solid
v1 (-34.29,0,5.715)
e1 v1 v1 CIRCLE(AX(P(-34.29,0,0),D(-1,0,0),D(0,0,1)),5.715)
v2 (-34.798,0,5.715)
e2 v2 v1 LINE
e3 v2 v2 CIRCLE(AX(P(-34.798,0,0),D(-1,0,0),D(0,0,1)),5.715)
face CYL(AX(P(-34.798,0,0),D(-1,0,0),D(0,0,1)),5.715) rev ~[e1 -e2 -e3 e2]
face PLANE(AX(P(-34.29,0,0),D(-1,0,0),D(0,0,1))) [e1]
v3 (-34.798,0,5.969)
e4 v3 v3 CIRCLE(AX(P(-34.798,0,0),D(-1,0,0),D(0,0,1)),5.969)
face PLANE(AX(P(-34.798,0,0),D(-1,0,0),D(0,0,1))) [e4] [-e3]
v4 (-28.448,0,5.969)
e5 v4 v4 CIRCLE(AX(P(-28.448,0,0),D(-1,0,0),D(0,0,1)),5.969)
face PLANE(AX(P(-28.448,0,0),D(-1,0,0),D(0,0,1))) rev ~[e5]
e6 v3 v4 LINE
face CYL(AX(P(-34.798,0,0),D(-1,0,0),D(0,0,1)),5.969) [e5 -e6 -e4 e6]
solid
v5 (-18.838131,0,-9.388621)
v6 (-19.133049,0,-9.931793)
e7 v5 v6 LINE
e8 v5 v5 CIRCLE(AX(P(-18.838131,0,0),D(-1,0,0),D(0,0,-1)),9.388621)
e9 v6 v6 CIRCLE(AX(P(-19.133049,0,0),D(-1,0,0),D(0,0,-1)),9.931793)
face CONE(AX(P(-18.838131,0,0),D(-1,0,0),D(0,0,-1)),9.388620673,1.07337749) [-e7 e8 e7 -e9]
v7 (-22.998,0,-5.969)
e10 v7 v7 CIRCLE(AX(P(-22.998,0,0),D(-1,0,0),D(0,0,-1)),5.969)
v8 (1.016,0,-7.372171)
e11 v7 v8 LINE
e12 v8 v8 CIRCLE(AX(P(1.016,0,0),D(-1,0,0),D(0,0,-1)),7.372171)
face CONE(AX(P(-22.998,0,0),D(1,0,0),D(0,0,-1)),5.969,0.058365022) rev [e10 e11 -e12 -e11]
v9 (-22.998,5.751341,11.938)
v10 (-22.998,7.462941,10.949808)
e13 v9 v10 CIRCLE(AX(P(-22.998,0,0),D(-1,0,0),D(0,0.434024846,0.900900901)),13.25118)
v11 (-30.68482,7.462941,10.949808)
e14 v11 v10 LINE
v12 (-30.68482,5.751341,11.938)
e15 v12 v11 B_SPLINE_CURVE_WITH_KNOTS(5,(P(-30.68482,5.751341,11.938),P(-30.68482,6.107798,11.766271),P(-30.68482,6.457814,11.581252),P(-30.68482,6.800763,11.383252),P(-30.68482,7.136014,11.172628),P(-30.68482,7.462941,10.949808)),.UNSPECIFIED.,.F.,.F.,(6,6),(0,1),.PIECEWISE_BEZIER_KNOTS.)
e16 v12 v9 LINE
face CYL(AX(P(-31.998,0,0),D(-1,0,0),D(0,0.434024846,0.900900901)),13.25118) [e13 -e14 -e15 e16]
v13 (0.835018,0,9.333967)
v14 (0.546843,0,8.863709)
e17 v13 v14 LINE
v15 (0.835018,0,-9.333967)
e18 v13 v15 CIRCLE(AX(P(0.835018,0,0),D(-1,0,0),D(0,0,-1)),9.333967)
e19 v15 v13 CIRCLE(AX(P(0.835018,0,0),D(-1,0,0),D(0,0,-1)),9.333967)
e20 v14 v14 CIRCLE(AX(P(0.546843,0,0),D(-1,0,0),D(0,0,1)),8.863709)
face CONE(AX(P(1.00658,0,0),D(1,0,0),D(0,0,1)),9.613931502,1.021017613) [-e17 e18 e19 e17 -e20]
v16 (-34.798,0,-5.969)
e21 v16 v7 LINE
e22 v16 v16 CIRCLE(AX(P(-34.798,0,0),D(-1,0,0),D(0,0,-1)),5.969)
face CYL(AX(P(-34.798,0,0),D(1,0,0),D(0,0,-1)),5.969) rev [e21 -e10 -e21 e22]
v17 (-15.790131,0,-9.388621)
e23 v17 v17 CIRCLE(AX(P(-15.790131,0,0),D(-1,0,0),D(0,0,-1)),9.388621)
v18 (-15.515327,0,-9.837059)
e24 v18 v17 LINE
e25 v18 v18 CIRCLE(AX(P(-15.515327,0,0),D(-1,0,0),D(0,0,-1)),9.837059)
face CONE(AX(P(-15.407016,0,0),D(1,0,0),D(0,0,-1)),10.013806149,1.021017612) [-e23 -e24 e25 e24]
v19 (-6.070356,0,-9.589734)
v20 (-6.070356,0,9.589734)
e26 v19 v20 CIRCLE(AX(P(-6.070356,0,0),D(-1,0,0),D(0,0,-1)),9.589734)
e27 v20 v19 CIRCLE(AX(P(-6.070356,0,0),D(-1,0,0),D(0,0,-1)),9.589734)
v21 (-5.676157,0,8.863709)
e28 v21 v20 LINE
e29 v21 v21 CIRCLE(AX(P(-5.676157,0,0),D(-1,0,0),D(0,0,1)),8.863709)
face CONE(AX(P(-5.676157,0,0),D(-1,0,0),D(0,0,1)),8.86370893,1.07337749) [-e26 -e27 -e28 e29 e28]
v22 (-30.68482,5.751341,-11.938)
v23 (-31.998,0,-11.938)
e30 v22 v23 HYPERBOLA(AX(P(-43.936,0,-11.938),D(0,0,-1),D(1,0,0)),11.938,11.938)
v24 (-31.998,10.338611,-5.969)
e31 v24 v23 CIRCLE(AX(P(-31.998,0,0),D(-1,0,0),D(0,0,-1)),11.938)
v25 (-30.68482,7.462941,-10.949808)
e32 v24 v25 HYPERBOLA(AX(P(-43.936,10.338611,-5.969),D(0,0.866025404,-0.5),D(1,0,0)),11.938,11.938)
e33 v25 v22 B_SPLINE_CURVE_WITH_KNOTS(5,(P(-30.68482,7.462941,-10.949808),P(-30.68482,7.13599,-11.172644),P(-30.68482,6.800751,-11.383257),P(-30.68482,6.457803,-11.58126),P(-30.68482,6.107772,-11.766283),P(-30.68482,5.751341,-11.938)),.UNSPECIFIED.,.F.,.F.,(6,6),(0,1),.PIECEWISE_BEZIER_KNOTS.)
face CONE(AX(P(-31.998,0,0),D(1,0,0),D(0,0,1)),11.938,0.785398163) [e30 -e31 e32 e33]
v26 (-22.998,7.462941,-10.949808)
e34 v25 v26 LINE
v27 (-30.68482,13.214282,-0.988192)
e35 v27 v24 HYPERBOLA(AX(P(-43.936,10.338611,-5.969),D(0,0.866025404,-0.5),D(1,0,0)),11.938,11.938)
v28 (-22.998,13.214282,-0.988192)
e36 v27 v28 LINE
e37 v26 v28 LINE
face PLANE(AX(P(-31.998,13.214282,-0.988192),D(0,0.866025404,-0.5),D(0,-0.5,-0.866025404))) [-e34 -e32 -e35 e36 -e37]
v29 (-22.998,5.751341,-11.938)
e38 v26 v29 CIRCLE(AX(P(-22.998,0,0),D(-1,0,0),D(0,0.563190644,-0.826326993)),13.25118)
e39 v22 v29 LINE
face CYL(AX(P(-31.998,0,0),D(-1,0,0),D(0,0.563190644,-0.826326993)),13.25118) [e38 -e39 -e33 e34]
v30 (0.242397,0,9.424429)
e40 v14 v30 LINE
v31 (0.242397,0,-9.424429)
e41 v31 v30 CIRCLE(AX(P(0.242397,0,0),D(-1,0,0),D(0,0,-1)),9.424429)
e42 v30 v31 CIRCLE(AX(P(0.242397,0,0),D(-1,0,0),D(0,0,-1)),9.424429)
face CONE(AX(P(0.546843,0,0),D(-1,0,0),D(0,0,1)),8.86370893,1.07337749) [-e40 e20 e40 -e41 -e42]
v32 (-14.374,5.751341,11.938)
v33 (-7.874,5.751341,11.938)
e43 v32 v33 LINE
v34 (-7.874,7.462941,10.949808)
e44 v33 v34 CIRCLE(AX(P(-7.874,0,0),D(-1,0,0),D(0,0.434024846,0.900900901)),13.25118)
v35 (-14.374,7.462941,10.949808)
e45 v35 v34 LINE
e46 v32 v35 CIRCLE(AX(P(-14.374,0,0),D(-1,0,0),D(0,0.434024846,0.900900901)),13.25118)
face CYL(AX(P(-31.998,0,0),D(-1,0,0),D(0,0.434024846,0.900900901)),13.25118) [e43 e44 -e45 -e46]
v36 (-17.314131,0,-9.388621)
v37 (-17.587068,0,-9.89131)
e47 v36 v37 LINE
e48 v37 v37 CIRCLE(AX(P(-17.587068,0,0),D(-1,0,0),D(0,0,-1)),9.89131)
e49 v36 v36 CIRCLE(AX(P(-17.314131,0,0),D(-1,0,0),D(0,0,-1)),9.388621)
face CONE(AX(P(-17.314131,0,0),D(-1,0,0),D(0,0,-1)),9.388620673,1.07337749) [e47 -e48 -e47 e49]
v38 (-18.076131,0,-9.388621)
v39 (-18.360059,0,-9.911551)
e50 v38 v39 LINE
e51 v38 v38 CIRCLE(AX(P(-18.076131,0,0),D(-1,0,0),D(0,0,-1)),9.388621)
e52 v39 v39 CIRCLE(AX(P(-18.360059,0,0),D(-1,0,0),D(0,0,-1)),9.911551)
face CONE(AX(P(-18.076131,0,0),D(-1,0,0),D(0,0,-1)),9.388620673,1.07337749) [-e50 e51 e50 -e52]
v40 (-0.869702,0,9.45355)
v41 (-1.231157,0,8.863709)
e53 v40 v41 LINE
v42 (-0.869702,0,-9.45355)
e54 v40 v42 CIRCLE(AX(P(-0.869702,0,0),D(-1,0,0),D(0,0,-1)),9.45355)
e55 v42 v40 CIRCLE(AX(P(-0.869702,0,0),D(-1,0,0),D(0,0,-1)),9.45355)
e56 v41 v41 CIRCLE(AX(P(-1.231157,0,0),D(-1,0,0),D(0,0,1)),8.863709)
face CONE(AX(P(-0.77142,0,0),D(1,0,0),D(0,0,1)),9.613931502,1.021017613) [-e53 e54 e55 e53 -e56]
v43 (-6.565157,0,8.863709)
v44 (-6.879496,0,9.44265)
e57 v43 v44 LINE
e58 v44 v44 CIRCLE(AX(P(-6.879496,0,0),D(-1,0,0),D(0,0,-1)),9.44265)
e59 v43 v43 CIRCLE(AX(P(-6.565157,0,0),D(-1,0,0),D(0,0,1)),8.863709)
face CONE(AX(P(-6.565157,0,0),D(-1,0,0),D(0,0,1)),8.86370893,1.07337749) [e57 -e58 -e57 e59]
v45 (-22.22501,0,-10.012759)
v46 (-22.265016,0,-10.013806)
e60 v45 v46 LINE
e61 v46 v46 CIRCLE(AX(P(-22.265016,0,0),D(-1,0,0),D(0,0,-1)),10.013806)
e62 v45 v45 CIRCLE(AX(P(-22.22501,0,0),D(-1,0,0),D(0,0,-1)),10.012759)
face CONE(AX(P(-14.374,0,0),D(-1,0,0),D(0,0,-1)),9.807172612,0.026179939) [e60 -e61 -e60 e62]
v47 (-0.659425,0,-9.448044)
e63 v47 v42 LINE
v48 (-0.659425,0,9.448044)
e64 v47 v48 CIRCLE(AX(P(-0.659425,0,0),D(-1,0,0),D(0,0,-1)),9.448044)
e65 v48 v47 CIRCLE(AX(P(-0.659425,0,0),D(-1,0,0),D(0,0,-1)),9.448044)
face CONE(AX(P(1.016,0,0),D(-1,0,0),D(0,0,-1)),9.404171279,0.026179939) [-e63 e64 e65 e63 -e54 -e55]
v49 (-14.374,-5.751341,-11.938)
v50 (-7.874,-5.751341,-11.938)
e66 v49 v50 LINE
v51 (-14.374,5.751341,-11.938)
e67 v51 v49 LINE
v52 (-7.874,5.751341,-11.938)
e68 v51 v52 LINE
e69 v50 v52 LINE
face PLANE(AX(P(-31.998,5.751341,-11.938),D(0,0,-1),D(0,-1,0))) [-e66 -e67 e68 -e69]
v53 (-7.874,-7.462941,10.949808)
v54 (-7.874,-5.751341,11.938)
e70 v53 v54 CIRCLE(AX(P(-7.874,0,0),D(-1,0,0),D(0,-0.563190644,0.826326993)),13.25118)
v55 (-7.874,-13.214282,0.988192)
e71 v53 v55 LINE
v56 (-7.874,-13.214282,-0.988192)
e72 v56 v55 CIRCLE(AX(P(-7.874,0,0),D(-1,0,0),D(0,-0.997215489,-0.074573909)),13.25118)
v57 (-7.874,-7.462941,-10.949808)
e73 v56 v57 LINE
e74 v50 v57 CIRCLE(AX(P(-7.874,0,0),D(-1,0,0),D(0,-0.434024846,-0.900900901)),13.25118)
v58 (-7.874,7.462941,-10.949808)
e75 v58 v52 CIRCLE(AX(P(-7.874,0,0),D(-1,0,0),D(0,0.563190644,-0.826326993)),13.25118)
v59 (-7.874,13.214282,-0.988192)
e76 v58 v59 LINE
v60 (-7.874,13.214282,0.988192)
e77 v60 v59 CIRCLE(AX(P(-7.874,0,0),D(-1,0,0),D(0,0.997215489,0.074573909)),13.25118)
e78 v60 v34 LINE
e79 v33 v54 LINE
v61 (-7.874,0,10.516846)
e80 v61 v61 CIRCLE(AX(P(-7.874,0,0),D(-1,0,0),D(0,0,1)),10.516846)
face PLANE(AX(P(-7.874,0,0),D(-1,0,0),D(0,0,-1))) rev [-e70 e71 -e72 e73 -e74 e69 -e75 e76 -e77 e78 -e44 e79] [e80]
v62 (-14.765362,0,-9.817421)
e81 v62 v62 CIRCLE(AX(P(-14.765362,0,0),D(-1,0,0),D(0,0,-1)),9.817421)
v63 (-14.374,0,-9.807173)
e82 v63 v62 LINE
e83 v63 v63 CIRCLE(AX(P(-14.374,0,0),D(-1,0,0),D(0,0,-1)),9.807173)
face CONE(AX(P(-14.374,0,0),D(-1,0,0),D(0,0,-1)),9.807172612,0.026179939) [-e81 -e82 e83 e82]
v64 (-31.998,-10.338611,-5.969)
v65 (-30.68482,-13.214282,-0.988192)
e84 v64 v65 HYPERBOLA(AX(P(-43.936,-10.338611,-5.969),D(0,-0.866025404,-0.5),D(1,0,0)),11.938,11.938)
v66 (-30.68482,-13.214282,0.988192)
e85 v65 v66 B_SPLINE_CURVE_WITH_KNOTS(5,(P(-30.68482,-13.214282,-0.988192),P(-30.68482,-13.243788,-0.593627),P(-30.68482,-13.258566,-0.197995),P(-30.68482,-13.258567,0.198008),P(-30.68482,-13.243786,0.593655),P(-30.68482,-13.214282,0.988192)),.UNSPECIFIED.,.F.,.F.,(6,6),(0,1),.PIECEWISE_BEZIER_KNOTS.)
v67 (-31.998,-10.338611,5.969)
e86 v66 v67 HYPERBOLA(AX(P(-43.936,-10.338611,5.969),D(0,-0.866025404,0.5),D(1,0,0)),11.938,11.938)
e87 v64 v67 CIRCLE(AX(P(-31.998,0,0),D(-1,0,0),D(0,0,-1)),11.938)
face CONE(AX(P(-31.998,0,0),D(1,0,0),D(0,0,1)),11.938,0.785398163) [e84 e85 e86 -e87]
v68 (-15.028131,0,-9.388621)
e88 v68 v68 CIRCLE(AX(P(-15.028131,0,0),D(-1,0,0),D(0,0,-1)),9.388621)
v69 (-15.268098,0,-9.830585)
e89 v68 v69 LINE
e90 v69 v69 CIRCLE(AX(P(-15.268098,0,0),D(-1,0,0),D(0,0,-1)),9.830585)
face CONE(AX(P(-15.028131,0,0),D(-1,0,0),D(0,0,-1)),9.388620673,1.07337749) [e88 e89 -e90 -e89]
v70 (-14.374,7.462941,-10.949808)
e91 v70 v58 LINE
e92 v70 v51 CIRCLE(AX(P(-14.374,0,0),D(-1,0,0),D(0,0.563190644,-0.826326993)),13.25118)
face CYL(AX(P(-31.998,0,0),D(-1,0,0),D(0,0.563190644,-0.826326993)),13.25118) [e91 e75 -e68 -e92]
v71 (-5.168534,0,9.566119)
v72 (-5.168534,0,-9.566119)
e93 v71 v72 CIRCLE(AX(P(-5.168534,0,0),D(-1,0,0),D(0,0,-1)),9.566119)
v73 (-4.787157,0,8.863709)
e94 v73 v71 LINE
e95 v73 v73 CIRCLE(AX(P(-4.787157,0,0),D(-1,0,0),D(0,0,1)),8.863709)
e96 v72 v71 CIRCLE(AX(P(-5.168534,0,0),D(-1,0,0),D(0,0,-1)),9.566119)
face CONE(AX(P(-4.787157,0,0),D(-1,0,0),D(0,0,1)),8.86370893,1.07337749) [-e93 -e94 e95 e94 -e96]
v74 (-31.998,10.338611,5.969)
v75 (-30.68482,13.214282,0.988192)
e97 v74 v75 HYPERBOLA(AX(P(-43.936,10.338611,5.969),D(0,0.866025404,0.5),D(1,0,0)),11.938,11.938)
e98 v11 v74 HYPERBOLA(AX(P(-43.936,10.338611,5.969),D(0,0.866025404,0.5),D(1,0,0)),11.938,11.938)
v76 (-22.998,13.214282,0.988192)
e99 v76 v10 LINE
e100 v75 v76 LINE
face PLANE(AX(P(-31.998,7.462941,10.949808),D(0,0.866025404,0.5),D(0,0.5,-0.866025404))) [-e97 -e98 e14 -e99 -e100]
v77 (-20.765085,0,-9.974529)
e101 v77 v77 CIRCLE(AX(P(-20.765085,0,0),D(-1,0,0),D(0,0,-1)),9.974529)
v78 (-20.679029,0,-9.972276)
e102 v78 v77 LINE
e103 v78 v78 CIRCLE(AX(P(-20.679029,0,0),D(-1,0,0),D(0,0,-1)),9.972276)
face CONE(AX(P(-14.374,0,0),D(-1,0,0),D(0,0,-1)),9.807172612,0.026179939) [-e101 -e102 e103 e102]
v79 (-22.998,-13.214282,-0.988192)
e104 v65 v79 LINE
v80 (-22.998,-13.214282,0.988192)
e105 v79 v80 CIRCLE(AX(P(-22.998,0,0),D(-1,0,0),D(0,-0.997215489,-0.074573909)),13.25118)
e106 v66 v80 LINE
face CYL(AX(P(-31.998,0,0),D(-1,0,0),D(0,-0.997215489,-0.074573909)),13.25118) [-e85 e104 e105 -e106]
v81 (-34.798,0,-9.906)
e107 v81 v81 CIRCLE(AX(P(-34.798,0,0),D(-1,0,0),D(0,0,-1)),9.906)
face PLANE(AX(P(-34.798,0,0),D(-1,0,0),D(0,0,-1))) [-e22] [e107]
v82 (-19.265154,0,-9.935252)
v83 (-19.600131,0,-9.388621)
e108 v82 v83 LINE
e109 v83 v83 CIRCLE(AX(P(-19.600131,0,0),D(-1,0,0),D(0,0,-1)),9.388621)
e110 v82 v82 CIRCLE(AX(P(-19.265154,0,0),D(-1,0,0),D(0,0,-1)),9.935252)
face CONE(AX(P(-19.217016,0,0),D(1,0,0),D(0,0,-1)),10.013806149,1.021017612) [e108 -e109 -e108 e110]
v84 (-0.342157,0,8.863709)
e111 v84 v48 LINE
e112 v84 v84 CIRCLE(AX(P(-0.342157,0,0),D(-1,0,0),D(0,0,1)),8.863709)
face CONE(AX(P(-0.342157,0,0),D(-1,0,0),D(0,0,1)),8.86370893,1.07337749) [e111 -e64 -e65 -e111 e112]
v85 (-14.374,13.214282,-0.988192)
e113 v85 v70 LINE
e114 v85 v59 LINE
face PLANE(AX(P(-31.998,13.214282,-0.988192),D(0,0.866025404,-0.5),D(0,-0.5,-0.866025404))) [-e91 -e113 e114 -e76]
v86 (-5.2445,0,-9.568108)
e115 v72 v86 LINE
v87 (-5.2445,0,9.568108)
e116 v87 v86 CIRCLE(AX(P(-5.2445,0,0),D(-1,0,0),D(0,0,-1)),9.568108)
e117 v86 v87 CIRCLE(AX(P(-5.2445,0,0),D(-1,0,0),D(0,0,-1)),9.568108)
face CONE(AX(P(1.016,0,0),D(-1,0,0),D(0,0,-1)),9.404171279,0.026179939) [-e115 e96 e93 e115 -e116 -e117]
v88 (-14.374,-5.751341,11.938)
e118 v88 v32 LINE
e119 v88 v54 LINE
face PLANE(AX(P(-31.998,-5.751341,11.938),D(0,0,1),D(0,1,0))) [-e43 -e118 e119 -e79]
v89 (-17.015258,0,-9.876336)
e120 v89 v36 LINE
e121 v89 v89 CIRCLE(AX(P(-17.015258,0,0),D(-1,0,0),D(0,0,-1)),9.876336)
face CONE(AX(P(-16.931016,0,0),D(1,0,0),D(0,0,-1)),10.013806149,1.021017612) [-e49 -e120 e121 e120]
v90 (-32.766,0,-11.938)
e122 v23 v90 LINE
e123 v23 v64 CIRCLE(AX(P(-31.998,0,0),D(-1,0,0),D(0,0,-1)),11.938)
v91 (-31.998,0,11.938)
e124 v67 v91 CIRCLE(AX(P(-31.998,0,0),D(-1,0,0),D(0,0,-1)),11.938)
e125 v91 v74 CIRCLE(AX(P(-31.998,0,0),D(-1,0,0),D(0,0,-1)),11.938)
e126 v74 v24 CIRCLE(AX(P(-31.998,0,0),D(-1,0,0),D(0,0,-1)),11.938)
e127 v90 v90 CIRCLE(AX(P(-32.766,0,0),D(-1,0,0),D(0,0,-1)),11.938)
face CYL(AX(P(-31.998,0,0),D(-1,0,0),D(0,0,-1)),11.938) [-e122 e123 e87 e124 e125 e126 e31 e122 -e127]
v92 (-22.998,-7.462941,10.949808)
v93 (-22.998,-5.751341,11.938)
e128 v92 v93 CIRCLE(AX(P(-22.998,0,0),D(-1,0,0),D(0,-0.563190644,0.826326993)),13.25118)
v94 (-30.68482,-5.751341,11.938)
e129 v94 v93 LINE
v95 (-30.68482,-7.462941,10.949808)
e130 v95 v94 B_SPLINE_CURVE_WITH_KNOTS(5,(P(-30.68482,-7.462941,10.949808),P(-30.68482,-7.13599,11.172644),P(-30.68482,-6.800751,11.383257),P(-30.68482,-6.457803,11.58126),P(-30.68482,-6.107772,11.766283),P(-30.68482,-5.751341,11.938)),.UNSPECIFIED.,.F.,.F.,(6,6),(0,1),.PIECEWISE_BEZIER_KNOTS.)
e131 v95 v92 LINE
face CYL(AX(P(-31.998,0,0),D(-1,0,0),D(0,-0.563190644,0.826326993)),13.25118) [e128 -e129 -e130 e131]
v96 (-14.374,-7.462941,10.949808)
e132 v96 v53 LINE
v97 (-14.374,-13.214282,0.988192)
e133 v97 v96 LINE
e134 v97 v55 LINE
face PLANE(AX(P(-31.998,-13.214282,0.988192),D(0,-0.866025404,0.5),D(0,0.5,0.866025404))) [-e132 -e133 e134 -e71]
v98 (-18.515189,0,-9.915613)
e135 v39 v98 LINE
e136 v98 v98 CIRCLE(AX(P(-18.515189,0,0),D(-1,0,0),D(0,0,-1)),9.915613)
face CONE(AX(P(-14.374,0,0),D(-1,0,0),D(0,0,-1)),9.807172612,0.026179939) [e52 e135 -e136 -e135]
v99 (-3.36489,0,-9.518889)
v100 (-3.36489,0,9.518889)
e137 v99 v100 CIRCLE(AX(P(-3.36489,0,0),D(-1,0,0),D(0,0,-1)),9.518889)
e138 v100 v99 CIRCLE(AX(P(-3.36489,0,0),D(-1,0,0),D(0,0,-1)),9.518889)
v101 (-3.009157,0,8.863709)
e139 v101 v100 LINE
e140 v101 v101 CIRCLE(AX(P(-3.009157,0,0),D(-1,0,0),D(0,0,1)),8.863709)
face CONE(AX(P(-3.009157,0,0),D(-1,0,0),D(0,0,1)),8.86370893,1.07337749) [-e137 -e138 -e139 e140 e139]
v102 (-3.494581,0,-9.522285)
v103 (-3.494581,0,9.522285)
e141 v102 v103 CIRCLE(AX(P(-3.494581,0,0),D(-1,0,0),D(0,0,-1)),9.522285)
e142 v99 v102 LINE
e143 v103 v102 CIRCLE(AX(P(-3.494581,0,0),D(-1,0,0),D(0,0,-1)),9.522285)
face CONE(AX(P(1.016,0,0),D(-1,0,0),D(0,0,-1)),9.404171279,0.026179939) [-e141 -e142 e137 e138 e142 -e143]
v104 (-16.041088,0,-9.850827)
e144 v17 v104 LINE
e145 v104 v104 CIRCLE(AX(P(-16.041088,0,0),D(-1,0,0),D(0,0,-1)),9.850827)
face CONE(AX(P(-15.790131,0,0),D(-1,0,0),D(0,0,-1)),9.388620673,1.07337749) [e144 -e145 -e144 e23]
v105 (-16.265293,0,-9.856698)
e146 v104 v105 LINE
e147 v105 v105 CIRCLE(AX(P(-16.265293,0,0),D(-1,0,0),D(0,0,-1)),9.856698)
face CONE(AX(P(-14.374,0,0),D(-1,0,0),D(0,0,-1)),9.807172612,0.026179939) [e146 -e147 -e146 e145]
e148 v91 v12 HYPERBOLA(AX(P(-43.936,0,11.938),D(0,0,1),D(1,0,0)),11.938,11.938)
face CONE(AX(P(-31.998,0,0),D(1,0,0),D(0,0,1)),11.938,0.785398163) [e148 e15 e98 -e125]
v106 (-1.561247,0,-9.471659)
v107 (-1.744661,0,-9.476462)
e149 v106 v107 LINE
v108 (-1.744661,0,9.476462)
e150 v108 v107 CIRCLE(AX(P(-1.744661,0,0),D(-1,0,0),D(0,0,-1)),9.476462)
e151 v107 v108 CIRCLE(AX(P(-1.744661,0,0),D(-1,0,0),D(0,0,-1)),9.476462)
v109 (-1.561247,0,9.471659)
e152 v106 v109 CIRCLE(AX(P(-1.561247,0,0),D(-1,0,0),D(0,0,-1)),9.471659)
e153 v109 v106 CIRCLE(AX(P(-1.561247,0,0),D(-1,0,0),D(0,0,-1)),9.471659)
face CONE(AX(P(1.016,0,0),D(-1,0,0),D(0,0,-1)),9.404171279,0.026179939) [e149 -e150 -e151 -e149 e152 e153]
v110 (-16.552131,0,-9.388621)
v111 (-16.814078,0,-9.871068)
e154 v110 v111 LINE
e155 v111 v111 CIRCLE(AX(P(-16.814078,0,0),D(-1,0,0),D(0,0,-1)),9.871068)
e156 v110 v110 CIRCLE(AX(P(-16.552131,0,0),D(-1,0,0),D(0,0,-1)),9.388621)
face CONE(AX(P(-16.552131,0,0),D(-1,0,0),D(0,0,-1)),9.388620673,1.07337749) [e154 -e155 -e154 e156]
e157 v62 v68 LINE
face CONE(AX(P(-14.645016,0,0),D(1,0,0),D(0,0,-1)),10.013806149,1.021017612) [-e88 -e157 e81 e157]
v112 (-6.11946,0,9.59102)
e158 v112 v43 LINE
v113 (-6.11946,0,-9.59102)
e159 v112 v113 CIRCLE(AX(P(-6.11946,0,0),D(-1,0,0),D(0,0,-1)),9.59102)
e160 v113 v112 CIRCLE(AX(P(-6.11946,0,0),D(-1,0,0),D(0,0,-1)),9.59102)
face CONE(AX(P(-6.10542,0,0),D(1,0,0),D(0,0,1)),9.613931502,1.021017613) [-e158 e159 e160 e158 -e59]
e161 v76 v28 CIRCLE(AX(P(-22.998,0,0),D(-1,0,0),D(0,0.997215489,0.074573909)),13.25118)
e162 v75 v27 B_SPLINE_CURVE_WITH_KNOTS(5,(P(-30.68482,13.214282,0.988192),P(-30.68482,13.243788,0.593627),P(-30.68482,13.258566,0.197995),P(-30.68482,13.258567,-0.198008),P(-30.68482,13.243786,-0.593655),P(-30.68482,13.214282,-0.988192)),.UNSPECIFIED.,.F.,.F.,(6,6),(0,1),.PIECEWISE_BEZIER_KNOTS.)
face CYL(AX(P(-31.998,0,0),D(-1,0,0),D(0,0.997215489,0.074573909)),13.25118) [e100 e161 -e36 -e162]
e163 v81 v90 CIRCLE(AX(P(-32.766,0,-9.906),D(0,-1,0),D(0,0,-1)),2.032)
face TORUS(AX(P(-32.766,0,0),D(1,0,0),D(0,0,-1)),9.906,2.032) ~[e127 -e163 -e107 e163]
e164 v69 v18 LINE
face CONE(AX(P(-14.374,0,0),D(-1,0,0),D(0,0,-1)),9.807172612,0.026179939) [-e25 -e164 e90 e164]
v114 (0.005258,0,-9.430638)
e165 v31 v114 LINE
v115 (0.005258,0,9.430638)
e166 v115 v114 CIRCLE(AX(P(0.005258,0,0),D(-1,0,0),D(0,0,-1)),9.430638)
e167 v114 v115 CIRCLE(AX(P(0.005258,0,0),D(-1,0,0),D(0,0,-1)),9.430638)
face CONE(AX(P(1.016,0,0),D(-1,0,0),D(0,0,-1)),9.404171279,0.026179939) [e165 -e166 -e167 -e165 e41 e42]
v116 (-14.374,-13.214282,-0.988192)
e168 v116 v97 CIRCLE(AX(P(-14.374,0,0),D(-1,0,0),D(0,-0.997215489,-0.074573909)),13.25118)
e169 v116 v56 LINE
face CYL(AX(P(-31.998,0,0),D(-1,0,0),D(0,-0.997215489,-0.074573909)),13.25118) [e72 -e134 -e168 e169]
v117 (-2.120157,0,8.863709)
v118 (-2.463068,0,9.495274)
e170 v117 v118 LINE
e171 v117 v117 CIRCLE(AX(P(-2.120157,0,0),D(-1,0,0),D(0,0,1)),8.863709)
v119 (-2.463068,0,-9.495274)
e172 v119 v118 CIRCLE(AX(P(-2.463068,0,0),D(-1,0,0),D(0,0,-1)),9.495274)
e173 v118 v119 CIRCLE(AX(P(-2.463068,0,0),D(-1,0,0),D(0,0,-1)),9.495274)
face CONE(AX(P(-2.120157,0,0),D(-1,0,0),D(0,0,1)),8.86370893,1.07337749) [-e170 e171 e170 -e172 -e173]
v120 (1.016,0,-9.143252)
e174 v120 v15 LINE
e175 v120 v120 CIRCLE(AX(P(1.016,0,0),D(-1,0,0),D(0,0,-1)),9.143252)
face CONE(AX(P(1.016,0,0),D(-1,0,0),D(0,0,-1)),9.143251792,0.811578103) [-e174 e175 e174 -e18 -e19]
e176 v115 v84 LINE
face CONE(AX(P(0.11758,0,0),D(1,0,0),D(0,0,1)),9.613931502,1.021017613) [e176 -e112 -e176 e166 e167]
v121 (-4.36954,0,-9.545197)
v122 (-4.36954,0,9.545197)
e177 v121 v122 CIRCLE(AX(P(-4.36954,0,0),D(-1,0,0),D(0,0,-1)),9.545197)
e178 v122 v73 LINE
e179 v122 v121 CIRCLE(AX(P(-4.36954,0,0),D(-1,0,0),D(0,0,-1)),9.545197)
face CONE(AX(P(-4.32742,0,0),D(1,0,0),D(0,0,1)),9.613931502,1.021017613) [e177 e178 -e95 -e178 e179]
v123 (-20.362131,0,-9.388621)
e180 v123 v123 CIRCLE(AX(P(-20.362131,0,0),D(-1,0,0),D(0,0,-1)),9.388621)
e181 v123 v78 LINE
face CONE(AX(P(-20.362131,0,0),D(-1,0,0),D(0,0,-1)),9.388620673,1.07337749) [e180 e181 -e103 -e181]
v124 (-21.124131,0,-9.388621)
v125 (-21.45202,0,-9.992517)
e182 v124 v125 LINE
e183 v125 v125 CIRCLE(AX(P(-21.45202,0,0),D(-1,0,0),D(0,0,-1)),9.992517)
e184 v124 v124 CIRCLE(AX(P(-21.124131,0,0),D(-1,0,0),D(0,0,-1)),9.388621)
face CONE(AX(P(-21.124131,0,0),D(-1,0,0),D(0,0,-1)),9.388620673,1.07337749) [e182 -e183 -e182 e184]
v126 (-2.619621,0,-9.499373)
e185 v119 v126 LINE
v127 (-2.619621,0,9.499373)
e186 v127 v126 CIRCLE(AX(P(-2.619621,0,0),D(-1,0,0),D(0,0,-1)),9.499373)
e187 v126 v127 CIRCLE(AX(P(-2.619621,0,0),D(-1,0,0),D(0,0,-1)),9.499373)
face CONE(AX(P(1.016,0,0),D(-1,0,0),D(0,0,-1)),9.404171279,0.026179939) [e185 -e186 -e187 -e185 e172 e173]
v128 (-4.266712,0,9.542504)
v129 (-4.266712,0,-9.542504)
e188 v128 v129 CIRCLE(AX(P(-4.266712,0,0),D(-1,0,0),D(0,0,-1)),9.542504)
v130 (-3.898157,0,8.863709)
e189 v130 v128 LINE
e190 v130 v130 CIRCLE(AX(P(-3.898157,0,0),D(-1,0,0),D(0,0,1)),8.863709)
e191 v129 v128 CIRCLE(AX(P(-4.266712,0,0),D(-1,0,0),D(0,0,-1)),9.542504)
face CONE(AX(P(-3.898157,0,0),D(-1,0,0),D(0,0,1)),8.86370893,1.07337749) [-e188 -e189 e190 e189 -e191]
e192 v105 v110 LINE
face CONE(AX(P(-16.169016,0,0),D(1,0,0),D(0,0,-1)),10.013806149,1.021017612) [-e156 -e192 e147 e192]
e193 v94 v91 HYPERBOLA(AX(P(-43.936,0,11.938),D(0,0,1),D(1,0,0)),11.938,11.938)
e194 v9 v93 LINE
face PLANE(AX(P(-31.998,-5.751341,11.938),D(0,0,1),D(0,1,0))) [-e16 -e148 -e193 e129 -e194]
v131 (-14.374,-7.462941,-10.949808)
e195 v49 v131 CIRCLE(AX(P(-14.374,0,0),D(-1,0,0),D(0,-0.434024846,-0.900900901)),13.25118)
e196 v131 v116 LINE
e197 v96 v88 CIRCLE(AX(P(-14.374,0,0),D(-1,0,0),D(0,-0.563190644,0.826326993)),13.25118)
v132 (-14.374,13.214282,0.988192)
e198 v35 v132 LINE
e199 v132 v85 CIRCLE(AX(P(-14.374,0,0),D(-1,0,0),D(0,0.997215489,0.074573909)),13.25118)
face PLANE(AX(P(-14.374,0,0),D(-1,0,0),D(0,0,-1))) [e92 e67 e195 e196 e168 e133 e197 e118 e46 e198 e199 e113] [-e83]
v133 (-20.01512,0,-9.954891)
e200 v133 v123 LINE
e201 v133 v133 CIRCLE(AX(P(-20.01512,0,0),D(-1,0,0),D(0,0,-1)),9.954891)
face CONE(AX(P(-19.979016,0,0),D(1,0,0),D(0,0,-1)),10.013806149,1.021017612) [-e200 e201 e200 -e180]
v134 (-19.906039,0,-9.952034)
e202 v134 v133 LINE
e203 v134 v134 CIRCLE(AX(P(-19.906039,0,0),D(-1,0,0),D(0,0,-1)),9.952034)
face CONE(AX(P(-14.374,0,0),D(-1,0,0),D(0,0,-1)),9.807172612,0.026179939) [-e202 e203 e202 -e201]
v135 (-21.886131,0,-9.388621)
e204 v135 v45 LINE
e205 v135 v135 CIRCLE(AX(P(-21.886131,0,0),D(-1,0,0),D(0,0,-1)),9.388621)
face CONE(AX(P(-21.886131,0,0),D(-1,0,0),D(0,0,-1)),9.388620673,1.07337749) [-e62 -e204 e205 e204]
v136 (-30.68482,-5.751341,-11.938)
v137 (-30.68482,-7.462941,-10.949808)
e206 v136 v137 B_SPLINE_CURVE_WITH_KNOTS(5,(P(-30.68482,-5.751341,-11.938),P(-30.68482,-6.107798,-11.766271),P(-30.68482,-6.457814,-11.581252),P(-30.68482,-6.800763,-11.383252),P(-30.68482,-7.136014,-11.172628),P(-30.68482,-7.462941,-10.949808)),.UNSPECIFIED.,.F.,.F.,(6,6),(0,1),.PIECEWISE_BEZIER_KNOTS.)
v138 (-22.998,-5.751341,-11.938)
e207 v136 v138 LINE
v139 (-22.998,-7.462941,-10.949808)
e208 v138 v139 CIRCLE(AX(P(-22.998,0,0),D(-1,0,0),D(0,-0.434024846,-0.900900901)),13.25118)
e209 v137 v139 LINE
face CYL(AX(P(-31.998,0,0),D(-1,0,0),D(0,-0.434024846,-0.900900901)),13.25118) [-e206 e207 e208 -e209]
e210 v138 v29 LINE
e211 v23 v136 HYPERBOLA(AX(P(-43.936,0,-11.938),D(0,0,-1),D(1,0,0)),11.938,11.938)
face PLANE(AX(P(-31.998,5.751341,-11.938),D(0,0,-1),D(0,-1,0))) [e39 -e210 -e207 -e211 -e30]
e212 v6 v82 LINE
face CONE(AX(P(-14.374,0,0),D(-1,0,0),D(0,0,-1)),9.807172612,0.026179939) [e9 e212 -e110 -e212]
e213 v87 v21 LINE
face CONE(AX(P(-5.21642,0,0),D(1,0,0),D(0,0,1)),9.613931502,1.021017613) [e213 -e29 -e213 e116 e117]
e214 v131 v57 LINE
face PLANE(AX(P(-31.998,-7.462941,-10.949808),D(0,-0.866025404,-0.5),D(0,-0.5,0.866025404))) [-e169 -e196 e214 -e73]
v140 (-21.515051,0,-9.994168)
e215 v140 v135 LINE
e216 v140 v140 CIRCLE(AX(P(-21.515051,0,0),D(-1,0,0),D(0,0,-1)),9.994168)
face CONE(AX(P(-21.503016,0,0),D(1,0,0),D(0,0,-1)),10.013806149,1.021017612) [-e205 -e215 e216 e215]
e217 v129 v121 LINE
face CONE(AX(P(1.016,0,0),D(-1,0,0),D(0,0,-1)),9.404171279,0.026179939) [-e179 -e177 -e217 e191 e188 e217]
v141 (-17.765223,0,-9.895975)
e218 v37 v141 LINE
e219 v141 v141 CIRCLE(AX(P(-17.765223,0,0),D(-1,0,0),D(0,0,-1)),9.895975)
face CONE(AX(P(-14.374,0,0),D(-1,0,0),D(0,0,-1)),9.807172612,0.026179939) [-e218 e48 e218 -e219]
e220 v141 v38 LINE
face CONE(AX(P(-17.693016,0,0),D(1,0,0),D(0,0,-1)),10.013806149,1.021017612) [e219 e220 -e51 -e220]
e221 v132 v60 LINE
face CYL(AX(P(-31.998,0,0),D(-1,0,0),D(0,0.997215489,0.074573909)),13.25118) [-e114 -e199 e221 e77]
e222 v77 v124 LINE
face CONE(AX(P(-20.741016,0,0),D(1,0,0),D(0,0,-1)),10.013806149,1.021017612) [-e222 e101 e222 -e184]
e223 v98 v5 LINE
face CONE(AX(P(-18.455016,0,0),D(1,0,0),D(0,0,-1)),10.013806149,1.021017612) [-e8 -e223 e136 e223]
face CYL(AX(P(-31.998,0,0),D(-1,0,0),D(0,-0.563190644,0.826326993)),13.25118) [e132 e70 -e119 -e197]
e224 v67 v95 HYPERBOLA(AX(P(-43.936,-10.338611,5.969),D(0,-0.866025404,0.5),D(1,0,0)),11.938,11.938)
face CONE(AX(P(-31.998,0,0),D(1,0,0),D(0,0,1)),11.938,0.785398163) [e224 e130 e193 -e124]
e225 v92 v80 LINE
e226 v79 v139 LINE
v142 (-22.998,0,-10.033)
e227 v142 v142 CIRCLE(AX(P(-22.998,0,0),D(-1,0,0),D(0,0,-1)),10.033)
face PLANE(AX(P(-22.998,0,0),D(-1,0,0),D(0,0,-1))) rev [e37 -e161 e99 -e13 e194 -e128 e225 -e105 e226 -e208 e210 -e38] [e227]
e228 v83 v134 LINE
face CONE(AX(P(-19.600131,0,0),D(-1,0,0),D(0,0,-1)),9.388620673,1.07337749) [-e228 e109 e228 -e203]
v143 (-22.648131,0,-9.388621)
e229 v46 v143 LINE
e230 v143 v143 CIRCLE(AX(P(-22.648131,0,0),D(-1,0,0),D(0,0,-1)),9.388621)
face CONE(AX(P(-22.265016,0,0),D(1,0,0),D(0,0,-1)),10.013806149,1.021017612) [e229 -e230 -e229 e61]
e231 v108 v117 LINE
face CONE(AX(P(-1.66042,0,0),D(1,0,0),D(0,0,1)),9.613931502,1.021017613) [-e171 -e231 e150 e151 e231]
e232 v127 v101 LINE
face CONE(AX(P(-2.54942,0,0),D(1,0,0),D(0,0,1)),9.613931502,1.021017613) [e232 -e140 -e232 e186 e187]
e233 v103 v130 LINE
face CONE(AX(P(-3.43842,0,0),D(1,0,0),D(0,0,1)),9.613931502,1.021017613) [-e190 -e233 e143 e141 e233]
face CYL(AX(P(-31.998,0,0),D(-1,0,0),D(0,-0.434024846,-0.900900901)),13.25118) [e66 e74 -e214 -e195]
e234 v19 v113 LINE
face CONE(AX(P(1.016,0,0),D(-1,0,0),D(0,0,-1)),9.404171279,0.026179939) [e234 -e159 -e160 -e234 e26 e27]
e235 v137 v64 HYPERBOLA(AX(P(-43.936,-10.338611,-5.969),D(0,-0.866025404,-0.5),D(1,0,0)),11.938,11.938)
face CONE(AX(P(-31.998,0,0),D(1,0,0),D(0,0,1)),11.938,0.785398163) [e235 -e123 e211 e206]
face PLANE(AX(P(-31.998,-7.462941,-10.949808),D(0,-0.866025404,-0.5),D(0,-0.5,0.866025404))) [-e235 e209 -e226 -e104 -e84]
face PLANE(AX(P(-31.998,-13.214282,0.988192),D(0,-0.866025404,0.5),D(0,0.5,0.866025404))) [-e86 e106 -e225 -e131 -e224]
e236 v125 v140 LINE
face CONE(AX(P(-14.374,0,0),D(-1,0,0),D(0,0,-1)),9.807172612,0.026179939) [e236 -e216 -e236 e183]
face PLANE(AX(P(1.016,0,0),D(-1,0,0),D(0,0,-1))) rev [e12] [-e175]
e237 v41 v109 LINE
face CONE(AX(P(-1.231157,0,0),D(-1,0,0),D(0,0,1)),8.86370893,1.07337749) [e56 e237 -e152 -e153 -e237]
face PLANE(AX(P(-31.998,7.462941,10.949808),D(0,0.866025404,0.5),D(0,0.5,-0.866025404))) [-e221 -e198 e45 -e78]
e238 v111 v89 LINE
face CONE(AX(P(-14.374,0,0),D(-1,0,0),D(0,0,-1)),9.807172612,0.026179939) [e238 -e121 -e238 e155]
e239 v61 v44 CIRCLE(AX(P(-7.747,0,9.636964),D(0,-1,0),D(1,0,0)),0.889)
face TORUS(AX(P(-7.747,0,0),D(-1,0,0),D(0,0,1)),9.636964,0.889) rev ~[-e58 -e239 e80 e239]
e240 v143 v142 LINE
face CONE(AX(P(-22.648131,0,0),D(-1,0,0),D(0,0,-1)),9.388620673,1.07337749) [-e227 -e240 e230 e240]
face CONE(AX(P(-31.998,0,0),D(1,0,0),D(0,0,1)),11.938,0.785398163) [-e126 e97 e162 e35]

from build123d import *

# Parameters (mm, degrees)
SKETCH12_OUTSIDE_W = 65.04
SKETCH12_OUTSIDE_H = 65.04
CUT_EXTRUDE2_DEPTH = 34.014
FILLET4_R          = 2.032
SKETCH19_OUTSIDE_W = 39.986
SKETCH19_OUTSIDE_H = 42.612
SKETCH19_OUTSIDE_R = 11.938
CUT_EXTRUDE3_DEPTH = 1.999996
CUT_EXTRUDE3_DRAFT = -45
CHAMFER1_SIZE      = 0.260919487
CHAMFER1_SIZE2     = 0.254
SKETCH21_R         = 5.969
PLUG_DEPTH         = 6.35
SKETCH22_R         = 5.715
CUT_EXTRUDE4_DEPTH = 0.508
LPATTERN1_COUNT    = 11
LPATTERN1_PITCH    = 0.762
LPATTERN2_COUNT    = 10
LPATTERN2_PITCH    = 0.889
SKETCH32_R         = 0.889


with BuildPart() as part:
    # Sketch10 → Revolve2 (revolve)
    with BuildSketch(Plane.XY, mode=Mode.PRIVATE) as revolve2_sk:
        Polygon((-34.798, 5.969), (-22.998, 5.969), (1.016, 7.372171279), (1.016, 9.404171279), (-7.874, 9.636964122), (-7.874, 23.876), (-14.374, 23.876), (-14.374, 9.807172612), (-22.998, 10.033), (-22.998, 23.876), (-31.998, 23.876), (-31.998, 11.938), (-34.798, 11.938), align=None)
    revolve(revolve2_sk.sketch.rotate(Axis((0, 0, 0), (-1, 0, 0)), 90), axis=Axis((0, 0, 0), (-1, 0, 0)))  # turned: the seam where the file's is

    # Sketch12 outside → Cut-Extrude2 (cut, through all)
    with BuildSketch(Plane.ZY.offset(31.998)):
        Rectangle(SKETCH12_OUTSIDE_W, SKETCH12_OUTSIDE_H)
        with BuildLine():
            Line((-0.98819228, 13.214281948), (-10.94980772, 7.462940592))
            ThreePointArc((-10.94980772, 7.462940592), (-11.47585851, 6.62559), (-11.938, 5.751341356))
            Line((-11.938, 5.751341356), (-11.938, -5.751341356))
            ThreePointArc((-11.938, -5.751341356), (-11.47585851, -6.62559), (-10.94980772, -7.462940592))
            Line((-10.94980772, -7.462940592), (-0.98819228, -13.214281948))
            ThreePointArc((-0.98819228, -13.214281948), (0, -13.25118), (0.98819228, -13.214281948))
            Line((0.98819228, -13.214281948), (10.94980772, -7.462940592))
            ThreePointArc((10.94980772, -7.462940592), (11.47585851, -6.62559), (11.938, -5.751341356))
            Line((11.938, -5.751341356), (11.938, 5.751341356))
            ThreePointArc((11.938, 5.751341356), (11.47585851, 6.62559), (10.94980772, 7.462940592))
            Line((10.94980772, 7.462940592), (0.98819228, 13.214281948))
            ThreePointArc((0.98819228, 13.214281948), (0, 13.25118), (-0.98819228, 13.214281948))
        make_face(mode=Mode.SUBTRACT)
    extrude(amount=-CUT_EXTRUDE2_DEPTH, mode=Mode.SUBTRACT)

    # Fillet4
    fillet4_edges = [part.edges().sort_by_distance(p)[0] for p in [
        (-34.798, 0, 11.938),
    ]]
    fillet(fillet4_edges, radius=FILLET4_R)


with BuildPart() as cut_extrude3_tool:
    # Sketch19 outside → Cut-Extrude3 (with draft: the straight prism first)
    with BuildSketch(Plane.ZY.offset(31.998)):
        Rectangle(SKETCH19_OUTSIDE_W, SKETCH19_OUTSIDE_H)
        Circle(SKETCH19_OUTSIDE_R, mode=Mode.SUBTRACT)
    extrude(amount=-CUT_EXTRUDE3_DEPTH)
    # Cut-Extrude3: the draft: its side faces are tilted about the plane it starts from
    cut_extrude3_sides = [cut_extrude3_tool.faces().sort_by_distance(p)[0] for p in [
        (-30.998002, -21.306, 0),
        (-30.998002, 0, 19.993),
        (-30.998002, 21.306, 0),
        (-30.998002, 0, -19.993),
        (-30.998002, 0, -11.938),
    ]]
    draft(cut_extrude3_sides, Plane.ZY.offset(31.998), CUT_EXTRUDE3_DRAFT)


with BuildPart() as part_1:
    add(part.part)

    # Cut-Extrude3: cut by cut_extrude3_tool
    add(cut_extrude3_tool.part, mode=Mode.SUBTRACT)

    # Chamfer1
    chamfer1_edges = [part_1.edges().sort_by_distance(p)[0] for p in [
        (1.016, 0, 9.404171279),
    ]]
    chamfer1_side = [part_1.faces().sort_by_distance(p)[0] for p in [
        (1.016, 0, 7.638161411),
    ]]
    chamfer(chamfer1_edges, length=CHAMFER1_SIZE, length2=CHAMFER1_SIZE2, reference=chamfer1_side[0])

    # Sketch29 → Cut-Revolve1 (revolve, cut)
    with BuildSketch(Plane.XY, mode=Mode.PRIVATE) as cut_revolve1_sk:
        Polygon((-22.998, 10.033), (-22.265016419, 10.013806149), (-22.648130572, 9.388620673), align=None)
    cut_revolve1 = revolve(cut_revolve1_sk.sketch.rotate(Axis((0, 0, 0), (-1, 0, 0)), 90), axis=Axis((0, 0, 0), (-1, 0, 0)), mode=Mode.SUBTRACT)  # turned: the seam where the file's is

    # LPattern1: Cut-Revolve1 ×11
    with Locations(*[(i * LPATTERN1_PITCH, 0, 0) for i in range(1, LPATTERN1_COUNT)]):
        add(cut_revolve1, mode=Mode.SUBTRACT)

    # Sketch30 → Cut-Revolve2 (revolve, cut)
    with BuildSketch(Plane.XY, mode=Mode.PRIVATE) as cut_revolve2_sk:
        Polygon((-7.874, 9.636964122), (-6.994419703, 9.613931502), (-7.454156686, 8.86370893), align=None)
    cut_revolve2 = revolve(cut_revolve2_sk.sketch.rotate(Axis((0, 0, 0), (-1, 0, 0)), 270), axis=Axis((0, 0, 0), (-1, 0, 0)), mode=Mode.SUBTRACT)  # turned: the seam where the file's is

    # LPattern2: Cut-Revolve2 ×10
    with Locations(*[(i * LPATTERN2_PITCH, 0, 0) for i in range(1, LPATTERN2_COUNT)]):
        add(cut_revolve2, mode=Mode.SUBTRACT)

    # Sketch32 → Cut-Revolve3 (revolve, cut)
    with BuildSketch(Plane.XY, mode=Mode.PRIVATE) as cut_revolve3_sk:
        with Locations((-7.747, 9.636964122)):
            Circle(SKETCH32_R)
    revolve(cut_revolve3_sk.sketch.rotate(Axis((0, 0, 0), (-1, 0, 0)), 270), axis=Axis((0, 0, 0), (-1, 0, 0)), mode=Mode.SUBTRACT)  # turned: the seam where the file's is


with BuildPart() as body_2:
    # Sketch21 → plug (new body)
    with BuildSketch(Plane.ZY.offset(34.798)):
        Circle(SKETCH21_R)
    extrude(amount=-PLUG_DEPTH)

    # Sketch22 → Cut-Extrude4 (cut)
    with BuildSketch(Plane.ZY.offset(34.798)):
        Circle(SKETCH22_R)
    extrude(amount=-CUT_EXTRUDE4_DEPTH, mode=Mode.SUBTRACT)


solid = Compound([part_1.part, body_2.part])
